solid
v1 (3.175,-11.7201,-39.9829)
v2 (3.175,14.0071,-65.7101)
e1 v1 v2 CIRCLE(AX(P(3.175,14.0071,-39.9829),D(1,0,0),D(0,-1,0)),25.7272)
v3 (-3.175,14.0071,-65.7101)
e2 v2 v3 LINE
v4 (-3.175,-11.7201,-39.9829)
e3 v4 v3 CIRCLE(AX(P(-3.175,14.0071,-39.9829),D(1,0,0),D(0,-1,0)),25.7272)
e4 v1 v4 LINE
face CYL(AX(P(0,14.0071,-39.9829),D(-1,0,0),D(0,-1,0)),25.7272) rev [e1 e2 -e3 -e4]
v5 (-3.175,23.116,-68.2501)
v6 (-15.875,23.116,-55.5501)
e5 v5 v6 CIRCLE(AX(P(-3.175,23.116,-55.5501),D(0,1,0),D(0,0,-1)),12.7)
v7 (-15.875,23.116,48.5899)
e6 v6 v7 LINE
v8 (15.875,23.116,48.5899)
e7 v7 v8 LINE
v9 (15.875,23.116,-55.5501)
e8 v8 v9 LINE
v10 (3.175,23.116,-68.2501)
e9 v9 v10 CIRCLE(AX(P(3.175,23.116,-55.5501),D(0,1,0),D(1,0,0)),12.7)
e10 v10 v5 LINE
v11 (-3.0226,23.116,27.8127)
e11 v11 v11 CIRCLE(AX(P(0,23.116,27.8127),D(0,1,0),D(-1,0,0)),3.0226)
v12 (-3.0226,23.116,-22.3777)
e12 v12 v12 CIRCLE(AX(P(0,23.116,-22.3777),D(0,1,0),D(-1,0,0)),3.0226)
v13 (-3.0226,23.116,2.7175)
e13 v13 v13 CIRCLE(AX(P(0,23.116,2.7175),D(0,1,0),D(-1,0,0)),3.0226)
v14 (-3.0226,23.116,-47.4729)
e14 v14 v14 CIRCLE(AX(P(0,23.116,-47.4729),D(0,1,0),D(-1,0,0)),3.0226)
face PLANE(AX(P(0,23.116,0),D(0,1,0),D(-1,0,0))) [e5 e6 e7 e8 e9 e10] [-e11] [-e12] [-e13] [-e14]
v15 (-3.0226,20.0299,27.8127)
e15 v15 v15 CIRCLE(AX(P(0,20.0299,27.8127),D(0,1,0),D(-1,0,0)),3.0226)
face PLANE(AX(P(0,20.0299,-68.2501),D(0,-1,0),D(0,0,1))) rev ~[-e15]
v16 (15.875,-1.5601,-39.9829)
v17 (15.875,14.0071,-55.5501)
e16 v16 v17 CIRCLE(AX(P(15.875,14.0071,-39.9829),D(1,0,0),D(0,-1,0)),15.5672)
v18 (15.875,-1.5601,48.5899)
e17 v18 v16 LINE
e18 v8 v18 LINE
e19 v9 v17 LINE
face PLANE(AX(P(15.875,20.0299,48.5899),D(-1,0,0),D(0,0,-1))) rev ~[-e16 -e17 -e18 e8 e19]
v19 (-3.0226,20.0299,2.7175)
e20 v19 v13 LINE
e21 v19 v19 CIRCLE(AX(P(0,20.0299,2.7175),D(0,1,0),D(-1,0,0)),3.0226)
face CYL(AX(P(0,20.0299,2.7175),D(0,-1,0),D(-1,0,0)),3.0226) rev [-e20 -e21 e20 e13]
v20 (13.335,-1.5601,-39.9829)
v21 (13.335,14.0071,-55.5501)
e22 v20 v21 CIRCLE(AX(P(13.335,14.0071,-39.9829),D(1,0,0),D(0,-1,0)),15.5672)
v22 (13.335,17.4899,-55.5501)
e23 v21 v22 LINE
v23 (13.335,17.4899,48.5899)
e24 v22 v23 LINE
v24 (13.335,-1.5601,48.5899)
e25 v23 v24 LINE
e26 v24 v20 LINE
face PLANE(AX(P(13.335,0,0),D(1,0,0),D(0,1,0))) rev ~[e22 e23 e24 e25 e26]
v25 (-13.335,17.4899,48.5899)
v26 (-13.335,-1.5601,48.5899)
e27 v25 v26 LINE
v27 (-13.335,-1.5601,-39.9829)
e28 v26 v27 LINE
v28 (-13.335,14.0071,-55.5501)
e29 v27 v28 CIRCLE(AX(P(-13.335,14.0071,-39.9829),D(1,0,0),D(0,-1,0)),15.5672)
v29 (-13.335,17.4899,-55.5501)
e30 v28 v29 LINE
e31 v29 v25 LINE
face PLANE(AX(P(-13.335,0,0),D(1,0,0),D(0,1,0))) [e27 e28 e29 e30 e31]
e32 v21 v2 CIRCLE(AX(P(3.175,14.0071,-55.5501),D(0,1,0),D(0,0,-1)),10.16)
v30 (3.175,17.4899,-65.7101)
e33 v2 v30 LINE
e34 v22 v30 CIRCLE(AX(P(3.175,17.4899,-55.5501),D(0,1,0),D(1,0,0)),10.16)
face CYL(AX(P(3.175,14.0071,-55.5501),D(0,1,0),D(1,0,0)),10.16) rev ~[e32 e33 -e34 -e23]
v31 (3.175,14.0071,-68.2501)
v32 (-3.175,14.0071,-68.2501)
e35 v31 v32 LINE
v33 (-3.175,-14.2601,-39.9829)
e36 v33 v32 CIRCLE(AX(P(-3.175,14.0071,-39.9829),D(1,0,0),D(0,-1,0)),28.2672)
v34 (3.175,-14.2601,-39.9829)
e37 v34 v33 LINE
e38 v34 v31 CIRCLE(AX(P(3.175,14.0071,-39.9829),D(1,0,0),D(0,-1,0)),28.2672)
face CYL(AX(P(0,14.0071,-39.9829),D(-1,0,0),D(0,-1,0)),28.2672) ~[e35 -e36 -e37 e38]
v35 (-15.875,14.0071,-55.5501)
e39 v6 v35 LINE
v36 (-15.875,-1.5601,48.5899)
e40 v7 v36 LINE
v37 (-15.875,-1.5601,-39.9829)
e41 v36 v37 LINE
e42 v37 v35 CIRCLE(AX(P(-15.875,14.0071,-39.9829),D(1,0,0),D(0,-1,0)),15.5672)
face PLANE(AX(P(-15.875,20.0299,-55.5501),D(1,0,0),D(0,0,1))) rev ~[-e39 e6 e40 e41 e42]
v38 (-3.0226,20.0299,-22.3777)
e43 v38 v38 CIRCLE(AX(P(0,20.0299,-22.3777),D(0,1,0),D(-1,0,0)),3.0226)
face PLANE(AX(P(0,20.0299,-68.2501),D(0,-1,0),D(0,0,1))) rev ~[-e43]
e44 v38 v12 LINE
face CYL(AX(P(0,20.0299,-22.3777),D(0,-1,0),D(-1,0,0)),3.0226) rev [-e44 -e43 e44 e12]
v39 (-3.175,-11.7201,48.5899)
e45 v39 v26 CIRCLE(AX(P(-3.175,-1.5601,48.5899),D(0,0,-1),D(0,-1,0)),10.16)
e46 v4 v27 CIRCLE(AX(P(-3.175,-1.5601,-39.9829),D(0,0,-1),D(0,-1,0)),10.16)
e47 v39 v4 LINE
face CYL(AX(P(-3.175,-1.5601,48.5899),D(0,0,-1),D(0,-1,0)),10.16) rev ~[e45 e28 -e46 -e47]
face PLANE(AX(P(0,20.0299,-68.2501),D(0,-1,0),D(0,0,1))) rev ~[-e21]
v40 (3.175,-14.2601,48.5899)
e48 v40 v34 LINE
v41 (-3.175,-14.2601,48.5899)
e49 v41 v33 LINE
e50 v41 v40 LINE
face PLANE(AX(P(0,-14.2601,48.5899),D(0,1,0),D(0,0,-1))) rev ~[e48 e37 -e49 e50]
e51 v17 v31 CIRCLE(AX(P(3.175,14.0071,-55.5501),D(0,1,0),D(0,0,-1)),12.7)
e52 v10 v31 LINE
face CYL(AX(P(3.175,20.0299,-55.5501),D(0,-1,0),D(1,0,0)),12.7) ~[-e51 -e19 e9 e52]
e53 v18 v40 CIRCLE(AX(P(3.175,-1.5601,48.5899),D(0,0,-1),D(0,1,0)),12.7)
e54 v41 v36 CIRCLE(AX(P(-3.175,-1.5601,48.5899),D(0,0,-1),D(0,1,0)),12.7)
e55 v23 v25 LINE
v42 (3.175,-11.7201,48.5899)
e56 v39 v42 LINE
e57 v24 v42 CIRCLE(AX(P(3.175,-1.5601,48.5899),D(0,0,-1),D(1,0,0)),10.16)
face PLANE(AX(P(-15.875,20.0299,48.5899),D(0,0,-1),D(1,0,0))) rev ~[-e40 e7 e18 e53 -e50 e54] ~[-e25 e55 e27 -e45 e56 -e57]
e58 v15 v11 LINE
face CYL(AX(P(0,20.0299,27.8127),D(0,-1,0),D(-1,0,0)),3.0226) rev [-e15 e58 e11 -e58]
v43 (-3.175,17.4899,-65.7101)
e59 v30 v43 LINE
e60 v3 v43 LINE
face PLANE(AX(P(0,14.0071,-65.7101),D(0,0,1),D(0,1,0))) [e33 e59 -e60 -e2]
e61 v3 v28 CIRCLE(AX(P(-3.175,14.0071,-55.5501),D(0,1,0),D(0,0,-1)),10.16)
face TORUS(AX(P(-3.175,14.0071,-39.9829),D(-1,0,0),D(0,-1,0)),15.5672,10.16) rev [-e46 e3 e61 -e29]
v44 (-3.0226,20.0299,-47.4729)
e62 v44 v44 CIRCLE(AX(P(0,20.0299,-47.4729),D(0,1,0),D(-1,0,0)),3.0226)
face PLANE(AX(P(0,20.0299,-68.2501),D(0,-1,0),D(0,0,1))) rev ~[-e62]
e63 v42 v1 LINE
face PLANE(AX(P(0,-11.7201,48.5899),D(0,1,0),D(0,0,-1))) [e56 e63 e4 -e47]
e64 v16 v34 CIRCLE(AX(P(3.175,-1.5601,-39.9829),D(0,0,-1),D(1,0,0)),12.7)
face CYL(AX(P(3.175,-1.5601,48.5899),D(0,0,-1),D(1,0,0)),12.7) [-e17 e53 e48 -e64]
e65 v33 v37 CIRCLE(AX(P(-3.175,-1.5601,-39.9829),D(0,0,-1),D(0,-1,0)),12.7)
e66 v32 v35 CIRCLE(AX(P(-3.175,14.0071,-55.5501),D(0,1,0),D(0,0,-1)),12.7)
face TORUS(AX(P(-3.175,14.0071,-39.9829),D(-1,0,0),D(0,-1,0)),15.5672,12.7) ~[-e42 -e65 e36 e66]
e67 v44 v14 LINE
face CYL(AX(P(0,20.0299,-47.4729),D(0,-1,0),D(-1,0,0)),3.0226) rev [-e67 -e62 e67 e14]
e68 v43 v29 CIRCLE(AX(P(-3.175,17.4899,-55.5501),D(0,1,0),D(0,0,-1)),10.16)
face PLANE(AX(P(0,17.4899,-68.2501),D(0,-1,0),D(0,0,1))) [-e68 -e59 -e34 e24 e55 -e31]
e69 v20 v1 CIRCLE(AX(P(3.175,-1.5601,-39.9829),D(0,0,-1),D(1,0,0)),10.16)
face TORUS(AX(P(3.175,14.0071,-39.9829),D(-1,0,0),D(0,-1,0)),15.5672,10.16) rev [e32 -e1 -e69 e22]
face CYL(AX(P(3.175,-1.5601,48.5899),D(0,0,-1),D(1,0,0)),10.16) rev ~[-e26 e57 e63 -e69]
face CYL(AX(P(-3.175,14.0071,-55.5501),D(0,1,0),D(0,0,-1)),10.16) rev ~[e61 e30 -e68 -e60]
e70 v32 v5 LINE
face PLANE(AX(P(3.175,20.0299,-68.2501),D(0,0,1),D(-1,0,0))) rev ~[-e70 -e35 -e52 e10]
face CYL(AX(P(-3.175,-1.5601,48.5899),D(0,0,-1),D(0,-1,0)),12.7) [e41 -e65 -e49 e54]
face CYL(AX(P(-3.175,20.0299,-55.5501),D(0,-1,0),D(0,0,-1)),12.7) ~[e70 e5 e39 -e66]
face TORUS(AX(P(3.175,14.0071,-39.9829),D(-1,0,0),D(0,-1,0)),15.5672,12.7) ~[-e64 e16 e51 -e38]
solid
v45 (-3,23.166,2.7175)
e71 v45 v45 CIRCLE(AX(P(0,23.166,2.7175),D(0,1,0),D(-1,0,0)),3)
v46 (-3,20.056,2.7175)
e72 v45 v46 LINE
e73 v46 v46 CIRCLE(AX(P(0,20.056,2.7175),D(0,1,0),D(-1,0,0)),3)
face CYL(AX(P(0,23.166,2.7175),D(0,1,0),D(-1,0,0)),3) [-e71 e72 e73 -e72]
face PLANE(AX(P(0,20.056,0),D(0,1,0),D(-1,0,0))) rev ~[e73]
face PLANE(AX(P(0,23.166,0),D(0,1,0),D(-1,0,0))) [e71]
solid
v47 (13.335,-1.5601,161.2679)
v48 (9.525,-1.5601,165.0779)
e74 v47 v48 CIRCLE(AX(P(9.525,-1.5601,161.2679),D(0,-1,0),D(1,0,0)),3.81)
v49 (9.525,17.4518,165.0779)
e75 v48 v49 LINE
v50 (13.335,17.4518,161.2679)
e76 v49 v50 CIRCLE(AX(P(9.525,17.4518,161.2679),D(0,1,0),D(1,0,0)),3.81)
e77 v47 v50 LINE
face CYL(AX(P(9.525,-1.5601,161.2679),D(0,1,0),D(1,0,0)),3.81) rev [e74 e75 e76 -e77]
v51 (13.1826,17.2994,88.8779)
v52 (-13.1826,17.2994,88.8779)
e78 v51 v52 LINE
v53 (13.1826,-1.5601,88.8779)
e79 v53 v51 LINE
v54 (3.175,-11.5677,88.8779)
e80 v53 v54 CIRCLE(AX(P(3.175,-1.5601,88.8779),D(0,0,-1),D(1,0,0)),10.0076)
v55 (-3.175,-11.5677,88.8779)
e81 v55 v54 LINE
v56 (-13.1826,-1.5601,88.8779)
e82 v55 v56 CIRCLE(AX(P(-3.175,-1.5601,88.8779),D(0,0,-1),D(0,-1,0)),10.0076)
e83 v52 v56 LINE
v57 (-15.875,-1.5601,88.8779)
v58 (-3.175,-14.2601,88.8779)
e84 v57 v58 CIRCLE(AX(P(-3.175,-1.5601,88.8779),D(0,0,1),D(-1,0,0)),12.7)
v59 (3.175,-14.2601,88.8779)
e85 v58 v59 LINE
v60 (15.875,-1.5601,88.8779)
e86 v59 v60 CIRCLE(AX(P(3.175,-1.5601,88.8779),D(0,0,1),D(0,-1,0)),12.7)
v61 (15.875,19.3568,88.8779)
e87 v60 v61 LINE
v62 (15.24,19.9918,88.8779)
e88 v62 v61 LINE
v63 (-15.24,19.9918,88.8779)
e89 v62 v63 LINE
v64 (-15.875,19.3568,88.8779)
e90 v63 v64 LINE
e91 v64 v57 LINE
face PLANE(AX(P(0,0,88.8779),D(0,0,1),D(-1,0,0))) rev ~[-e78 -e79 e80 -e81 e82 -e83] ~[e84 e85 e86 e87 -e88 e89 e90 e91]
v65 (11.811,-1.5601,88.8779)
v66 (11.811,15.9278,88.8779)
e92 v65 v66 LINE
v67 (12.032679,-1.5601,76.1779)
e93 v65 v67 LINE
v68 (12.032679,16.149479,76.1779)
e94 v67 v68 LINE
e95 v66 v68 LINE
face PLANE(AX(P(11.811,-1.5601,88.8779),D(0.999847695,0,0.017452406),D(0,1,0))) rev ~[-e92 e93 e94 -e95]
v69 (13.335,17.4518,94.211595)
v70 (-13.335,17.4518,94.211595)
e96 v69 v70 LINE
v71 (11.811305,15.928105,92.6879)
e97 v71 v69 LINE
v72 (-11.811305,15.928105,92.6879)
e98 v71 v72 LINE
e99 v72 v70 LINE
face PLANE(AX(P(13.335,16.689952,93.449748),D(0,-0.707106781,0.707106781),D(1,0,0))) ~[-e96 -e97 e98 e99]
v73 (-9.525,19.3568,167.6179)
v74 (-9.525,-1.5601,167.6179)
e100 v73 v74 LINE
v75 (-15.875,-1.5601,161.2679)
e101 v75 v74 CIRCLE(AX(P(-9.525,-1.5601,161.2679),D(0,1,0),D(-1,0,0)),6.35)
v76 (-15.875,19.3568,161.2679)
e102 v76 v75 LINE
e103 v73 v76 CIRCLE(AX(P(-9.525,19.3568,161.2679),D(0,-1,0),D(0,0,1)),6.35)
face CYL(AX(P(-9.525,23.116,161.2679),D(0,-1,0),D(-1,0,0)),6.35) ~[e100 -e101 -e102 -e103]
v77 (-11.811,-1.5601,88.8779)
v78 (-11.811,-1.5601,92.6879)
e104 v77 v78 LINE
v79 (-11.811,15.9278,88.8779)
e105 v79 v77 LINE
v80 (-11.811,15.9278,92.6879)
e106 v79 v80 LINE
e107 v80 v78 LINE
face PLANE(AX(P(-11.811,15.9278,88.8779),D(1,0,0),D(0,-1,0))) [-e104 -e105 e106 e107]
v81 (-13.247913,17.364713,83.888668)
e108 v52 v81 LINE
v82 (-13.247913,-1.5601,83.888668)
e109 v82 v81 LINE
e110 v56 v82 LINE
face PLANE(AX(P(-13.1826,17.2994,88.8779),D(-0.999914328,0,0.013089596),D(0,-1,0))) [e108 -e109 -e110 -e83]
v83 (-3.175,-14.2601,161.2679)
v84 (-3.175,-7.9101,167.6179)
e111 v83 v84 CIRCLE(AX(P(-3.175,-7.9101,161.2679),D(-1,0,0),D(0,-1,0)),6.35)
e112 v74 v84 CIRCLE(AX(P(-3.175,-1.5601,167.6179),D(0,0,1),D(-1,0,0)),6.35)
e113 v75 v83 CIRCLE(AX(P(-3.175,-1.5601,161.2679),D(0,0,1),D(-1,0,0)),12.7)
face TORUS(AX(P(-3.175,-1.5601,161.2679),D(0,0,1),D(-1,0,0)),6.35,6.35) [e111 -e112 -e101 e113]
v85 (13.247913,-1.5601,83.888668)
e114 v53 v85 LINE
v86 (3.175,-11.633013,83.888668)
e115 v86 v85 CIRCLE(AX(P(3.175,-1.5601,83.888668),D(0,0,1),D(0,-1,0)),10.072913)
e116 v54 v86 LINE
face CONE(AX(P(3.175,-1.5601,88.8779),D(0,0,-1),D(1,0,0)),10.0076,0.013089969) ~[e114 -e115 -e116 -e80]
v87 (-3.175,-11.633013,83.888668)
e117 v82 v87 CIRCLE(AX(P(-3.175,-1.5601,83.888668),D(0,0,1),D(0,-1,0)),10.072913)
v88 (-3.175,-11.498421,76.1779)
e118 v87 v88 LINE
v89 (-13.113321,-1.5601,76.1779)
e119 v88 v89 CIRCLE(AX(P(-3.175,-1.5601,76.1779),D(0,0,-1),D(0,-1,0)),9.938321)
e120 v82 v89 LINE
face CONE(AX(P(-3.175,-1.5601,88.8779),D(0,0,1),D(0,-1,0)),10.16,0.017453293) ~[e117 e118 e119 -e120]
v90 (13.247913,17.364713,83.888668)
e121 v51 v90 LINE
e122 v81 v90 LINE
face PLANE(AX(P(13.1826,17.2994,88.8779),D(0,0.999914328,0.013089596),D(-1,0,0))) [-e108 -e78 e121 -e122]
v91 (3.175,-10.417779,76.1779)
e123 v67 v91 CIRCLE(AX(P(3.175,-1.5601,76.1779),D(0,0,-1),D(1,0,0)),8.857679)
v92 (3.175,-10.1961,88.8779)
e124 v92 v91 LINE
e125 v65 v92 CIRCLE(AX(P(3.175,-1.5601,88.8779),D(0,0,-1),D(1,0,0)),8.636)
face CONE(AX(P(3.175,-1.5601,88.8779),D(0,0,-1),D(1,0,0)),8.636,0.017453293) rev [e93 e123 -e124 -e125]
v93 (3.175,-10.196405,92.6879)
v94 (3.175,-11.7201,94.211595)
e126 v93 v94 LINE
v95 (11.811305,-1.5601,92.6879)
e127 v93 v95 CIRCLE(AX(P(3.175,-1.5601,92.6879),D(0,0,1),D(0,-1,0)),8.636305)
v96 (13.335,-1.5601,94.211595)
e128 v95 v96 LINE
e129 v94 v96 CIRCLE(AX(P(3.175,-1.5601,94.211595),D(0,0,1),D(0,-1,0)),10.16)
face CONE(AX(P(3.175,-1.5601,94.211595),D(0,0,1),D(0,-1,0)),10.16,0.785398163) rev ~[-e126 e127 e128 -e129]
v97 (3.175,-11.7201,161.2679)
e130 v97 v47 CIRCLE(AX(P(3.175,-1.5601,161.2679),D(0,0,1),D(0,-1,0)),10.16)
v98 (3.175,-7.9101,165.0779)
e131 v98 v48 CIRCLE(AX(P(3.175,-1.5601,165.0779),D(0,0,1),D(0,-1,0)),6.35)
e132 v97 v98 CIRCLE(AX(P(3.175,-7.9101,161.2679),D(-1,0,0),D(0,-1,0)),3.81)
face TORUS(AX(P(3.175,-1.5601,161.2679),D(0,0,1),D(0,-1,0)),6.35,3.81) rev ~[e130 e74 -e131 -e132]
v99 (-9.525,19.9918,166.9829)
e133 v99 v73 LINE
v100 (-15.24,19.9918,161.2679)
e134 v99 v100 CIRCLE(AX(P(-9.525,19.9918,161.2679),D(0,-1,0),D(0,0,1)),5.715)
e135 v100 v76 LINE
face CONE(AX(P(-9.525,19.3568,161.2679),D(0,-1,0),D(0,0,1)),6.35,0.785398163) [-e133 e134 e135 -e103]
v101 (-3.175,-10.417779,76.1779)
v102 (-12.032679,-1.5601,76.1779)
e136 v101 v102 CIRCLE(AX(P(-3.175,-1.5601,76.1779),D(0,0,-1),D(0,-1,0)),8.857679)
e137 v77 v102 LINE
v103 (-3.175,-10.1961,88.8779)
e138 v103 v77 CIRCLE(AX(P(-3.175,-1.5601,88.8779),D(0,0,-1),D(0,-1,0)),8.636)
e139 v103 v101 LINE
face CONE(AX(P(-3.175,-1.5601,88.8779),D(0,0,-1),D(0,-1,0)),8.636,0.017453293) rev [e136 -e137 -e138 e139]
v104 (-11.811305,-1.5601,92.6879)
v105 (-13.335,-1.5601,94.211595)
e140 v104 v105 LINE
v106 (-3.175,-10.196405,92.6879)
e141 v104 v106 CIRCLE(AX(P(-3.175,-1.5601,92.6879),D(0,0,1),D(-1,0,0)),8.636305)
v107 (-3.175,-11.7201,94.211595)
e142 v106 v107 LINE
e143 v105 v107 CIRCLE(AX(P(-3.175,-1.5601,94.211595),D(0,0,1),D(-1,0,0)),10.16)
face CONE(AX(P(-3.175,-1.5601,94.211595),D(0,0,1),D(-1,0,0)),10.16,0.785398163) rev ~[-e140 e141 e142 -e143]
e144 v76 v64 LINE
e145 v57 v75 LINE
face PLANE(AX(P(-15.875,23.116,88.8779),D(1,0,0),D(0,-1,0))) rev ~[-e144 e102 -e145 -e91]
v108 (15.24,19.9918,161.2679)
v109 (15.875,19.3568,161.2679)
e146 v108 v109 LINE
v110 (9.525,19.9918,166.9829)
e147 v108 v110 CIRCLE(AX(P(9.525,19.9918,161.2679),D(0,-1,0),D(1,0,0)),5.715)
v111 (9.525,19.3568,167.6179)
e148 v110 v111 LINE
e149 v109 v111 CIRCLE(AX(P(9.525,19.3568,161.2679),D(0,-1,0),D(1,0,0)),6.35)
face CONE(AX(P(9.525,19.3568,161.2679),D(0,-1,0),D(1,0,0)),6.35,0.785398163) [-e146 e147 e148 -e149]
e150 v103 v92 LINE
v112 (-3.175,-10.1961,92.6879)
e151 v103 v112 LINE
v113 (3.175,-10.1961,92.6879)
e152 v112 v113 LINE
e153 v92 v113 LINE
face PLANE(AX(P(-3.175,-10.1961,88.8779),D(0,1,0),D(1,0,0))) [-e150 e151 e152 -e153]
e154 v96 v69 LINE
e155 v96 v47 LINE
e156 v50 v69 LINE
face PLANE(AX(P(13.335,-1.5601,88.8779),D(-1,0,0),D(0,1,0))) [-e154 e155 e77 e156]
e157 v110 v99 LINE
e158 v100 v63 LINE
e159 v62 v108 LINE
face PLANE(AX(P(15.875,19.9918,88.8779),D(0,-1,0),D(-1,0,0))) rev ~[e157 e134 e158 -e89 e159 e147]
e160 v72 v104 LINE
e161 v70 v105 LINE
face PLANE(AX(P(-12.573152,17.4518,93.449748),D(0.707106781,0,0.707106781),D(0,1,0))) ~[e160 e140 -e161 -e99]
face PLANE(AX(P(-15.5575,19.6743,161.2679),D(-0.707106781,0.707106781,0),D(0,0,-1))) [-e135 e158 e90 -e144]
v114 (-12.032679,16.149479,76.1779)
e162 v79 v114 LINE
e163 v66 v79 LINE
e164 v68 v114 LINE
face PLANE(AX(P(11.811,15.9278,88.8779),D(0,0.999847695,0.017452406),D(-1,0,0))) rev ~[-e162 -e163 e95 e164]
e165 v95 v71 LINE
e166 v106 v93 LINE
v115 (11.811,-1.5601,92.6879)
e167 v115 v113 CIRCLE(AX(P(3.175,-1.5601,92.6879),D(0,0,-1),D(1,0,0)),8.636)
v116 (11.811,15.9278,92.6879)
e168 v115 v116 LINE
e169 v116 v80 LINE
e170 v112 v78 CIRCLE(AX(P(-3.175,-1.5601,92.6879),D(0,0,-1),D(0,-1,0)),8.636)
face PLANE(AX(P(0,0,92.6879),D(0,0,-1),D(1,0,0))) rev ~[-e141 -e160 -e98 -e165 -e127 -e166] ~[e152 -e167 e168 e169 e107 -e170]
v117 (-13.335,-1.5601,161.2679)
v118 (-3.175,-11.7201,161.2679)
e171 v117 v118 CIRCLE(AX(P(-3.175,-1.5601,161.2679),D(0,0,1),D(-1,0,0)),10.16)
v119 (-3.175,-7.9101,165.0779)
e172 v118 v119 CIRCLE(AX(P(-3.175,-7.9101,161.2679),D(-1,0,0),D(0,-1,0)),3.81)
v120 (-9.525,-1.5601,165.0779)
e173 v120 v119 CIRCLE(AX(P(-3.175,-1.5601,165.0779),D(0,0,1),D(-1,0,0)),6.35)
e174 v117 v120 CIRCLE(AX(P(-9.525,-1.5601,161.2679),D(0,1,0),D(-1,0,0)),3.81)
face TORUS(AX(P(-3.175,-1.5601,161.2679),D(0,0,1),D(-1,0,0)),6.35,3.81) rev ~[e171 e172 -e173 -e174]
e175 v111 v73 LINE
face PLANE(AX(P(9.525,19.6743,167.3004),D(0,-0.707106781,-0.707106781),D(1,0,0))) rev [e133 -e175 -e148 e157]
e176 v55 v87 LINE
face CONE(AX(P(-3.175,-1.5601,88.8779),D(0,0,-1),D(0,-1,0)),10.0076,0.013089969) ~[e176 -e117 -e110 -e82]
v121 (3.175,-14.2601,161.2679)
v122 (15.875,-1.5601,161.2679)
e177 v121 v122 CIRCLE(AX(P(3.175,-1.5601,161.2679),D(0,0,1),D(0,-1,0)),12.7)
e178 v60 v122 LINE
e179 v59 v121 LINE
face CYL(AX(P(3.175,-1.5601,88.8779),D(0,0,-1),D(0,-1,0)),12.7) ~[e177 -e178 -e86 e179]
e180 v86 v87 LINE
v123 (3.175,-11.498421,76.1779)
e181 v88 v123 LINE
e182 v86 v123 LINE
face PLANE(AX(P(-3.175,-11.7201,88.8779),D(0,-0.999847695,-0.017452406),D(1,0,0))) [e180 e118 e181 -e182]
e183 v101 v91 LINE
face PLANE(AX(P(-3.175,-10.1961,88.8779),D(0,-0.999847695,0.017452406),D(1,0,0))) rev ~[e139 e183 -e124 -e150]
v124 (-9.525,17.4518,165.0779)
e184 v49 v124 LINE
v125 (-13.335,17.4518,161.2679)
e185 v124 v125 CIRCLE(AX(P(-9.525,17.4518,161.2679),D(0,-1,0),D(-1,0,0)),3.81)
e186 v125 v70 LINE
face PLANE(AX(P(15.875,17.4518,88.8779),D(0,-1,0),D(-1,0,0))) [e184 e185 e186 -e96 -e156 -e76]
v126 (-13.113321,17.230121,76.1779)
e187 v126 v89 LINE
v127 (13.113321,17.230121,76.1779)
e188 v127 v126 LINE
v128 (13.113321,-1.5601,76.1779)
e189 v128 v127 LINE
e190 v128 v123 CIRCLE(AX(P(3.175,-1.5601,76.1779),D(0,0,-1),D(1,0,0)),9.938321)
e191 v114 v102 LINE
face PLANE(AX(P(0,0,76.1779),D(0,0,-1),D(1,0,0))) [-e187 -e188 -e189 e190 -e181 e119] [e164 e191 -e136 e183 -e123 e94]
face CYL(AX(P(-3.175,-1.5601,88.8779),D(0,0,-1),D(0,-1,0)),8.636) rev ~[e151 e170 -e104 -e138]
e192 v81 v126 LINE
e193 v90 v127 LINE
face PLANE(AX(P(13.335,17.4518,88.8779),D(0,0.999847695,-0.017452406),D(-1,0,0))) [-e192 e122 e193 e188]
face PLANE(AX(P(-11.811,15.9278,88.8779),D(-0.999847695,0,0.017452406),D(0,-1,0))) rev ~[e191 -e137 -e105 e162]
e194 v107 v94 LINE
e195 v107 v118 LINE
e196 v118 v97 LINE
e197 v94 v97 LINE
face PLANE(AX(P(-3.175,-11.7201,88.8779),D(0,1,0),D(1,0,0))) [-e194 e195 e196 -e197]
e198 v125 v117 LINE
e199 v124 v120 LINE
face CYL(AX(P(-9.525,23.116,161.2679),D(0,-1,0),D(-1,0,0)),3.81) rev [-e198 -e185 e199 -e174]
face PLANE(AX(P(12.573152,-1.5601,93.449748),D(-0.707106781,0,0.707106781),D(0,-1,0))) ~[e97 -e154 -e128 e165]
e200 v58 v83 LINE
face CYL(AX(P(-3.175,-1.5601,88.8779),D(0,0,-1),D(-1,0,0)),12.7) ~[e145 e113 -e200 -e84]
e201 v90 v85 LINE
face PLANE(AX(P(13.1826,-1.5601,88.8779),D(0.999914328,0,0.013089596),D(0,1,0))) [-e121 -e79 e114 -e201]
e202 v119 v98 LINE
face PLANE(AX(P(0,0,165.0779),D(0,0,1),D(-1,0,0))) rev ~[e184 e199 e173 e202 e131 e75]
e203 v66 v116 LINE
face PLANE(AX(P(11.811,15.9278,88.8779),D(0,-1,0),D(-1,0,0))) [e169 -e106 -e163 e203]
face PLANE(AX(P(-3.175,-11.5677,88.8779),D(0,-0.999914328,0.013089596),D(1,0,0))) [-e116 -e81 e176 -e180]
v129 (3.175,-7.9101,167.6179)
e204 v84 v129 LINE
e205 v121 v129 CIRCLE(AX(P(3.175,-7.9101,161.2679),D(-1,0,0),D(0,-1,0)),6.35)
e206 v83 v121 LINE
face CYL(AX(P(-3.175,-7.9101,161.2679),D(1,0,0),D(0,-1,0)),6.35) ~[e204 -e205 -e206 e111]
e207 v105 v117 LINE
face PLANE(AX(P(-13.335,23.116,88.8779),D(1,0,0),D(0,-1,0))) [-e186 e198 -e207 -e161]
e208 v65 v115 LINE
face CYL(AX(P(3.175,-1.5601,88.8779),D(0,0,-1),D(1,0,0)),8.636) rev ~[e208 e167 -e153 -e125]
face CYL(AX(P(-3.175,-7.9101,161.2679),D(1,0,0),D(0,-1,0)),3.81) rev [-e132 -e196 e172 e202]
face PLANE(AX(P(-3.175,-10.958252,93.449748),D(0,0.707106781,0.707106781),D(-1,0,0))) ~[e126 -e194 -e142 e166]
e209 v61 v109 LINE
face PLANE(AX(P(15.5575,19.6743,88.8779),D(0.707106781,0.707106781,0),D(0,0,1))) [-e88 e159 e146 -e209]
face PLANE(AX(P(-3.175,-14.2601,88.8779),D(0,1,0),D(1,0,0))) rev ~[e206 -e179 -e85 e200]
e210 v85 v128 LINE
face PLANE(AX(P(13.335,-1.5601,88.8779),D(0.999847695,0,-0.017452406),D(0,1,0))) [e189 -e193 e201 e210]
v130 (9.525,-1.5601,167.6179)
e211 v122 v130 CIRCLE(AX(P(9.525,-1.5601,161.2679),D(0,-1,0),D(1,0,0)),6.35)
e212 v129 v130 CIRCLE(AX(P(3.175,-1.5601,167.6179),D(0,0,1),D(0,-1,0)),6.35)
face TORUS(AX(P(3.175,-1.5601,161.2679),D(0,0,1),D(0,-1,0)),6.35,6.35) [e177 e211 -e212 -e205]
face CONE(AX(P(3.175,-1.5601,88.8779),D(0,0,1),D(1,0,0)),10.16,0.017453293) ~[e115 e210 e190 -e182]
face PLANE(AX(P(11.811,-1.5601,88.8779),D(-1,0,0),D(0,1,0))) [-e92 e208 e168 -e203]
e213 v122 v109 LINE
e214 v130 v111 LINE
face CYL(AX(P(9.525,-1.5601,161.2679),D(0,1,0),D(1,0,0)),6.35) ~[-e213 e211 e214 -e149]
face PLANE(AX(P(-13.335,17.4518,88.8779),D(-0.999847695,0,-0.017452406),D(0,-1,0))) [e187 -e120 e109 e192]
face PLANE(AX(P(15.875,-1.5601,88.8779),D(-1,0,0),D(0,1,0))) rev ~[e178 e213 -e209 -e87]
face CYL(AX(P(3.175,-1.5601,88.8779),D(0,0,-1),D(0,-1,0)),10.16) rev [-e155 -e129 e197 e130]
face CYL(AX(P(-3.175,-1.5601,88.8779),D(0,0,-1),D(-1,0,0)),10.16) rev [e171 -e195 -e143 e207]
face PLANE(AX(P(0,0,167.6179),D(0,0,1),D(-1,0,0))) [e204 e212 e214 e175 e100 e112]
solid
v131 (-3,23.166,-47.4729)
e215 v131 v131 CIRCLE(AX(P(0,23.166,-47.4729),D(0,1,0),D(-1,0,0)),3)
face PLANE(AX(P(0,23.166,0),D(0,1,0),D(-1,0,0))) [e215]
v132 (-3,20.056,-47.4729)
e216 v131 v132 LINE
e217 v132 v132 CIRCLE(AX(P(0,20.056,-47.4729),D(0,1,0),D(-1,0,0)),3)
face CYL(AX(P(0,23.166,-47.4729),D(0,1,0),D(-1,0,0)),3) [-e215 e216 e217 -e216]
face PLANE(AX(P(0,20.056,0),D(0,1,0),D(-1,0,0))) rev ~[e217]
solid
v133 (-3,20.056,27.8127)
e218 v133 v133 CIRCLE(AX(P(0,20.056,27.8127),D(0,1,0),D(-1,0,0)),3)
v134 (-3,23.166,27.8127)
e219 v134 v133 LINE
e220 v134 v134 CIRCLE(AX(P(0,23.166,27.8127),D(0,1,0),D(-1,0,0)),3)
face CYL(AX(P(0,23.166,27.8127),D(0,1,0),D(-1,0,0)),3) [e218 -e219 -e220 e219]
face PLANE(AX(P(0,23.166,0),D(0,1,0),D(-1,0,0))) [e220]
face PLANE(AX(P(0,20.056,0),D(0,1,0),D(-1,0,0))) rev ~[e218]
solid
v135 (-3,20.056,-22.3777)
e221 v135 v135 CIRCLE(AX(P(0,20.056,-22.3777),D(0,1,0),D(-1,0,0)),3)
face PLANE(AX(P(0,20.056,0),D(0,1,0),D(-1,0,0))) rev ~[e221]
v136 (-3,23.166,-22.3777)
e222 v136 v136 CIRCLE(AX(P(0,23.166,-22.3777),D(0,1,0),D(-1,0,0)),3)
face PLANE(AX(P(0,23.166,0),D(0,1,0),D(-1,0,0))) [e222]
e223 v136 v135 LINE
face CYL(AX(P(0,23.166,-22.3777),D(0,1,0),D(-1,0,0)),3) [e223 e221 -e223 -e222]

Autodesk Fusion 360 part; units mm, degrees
sketch "Sketch1" plane through (0, 0, 0) normal (1, 0, 0) x (0, 1, 0)
  line L0 (20.0299, 48.5899) -> (-14.2601, 48.5899)
  line L1 (-14.2601, 48.5899) -> (-14.2601, -39.9829)
  line L2 (14.0071, -68.2501) -> (20.0299, -68.2501)
  line L3 (20.0299, -68.2501) -> (20.0299, 48.5899)
  line L4 (20.0299, 48.5899) -> (-12.8594, -31.1951) construction
  line L5 (-14.2601, 48.5899) -> (20.0299, -68.2501) construction
  arc A0 (-14.2601, -39.9829) -> (14.0071, -68.2501) centre (14.0071, -39.9829) ccw
  dimension "d42" = 116.84
  dimension "d43" = 34.29
extrude "Extrude1" add sketch "Sketch1" along normal mid plane 31.75 makes body 1
fillet "Fillet1" radius 12.7 6 edges at (15.875, -14.2601, 4.3035) (15.875, -5.9808, -59.9708) (15.875, 17.0185, -68.2501) (-15.875, 17.0185, -68.2501) (-15.875, -5.9808, -59.9708) (-15.875, -14.2601, 4.3035) on bodies 1
shell "Shell1" thickness 2.54 removed faces 1 at (5.2917, 5.6366, 48.5899) on bodies 1
sketch "Sketch2" plane through (0, 20.0299, 0) normal (0, 1, 0) x (-1, 0, 0)
  arc A0 (3.175, -68.2501) -> (15.875, -55.5501) centre (3.175, -55.5501) ccw
  line L0 (15.875, -55.5501) -> (15.875, 48.5899)
  line L1 (15.875, 48.5899) -> (-15.875, 48.5899)
  line L2 (-15.875, 48.5899) -> (-15.875, -55.5501)
  arc A1 (-15.875, -55.5501) -> (-3.175, -68.2501) centre (-3.175, -55.5501) ccw
  line L3 (-3.175, -68.2501) -> (3.175, -68.2501)
  circle A2 centre (0, 27.8127) radius 3.0226
  circle A3 centre (0, -47.4729) radius 3.0226
  line L4 (0, 48.5899) -> (0, -68.2501) construction
  circle A4 centre (0, 2.7175) radius 3.0226
  circle A5 centre (0, -22.3777) radius 3.0226
  line L5 (0, -9.8301) -> (-15.875, -9.8301) construction
  line L6 (0, -22.3777) -> (0, 2.7175) construction
  point P0 (0, -9.8301)
  dimension "d11" = 6.0452
  dimension "d58" = 25.0952
  dimension "d60" = 25.0952
  dimension "d61" = 25.0952
extrude "Extrude2" add sketch "Sketch2" along normal blind 3.0861 bodies 1
copy_body "Body->Comp1" bodies 1 removing the originals makes body 2 in component "Tungsten Holder"
sketch "Sketch3" plane through (0, 0, 48.5899) normal (0, 0, 1) x (-1, 0, 0)
  line L0 (13.335, -17.4899) -> (-13.335, -17.4899)
  line L1 (-13.335, -17.4899) -> (-13.335, 1.5601)
  arc A0 (-3.175, 11.7201) -> (-13.335, 1.5601) centre (-3.175, 1.5601) ccw
  line L2 (-3.175, 11.7201) -> (3.175, 11.7201)
  arc A1 (13.335, 1.5601) -> (3.175, 11.7201) centre (3.175, 1.5601) ccw
  line L3 (13.335, 1.5601) -> (13.335, -17.4899)
  arc A2 (15.875, 1.5601) -> (3.175, 14.2601) centre (3.175, 1.5601) ccw
  line L4 (3.175, 14.2601) -> (-3.175, 14.2601)
  arc A3 (-3.175, 14.2601) -> (-15.875, 1.5601) centre (-3.175, 1.5601) ccw
  line L5 (-15.875, 1.5601) -> (-15.875, -23.116)
  line L6 (-15.875, -23.116) -> (15.875, -23.116)
  line L7 (15.875, -23.116) -> (15.875, 1.5601)
extrude "Extrude1'" add sketch "Sketch3" along normal blind 78.74 separate body contours L0 L1 A0 L2 A1 L3 | A2 L4 A3 L5 L6 L7 makes body 3 in component "Holder Cap"
fillet "Fillet1'" radius 6.35 5 edges at (-15.875, 10.778, 127.3299) (-12.1553, -10.5403, 127.3299) (0, -14.2601, 127.3299) (12.1553, -10.5403, 127.3299) (15.875, 10.778, 127.3299) on bodies 3 in component "Holder Cap"
extrude "Extrude2'" cut 1 faces at (5.2917, 23.116, 72.7199) along direction (0, -1, 0) blind 3.1242 on bodies 3 bodies 3 in component "Holder Cap"
sketch "Sketch4" plane through (-27.0606, 39.3147, 48.5899) normal (0, 0, -1) x (1, 0, 0)
  line L0 (11.1856, 19.3229) -> (42.9356, 19.3229)
  line L1 (42.9356, 19.3229) -> (42.9356, 40.8748)
  arc A0 (42.9356, 40.8748) -> (30.2356, 53.5748) centre (30.2356, 40.8748) ccw
  line L2 (30.2356, 53.5748) -> (23.8856, 53.5748)
  arc A1 (23.8856, 53.5748) -> (11.1856, 40.8748) centre (23.8856, 40.8748) ccw
  line L3 (11.1856, 40.8748) -> (11.1856, 19.3229)
  line L4 (13.7256, 21.8629) -> (40.3956, 21.8629)
  line L5 (40.3956, 21.8629) -> (40.3956, 40.8748)
  arc A2 (40.3956, 40.8748) -> (30.2356, 51.0348) centre (30.2356, 40.8748) ccw
  line L6 (30.2356, 51.0348) -> (23.8856, 51.0348)
  arc A3 (23.8856, 51.0348) -> (13.7256, 40.8748) centre (23.8856, 40.8748) ccw
  line L7 (13.7256, 40.8748) -> (13.7256, 21.8629)
  line L8 (14.9956, 23.1329) -> (39.1256, 23.1329)
  line L9 (39.1256, 23.1329) -> (39.1256, 40.8748)
  arc A4 (39.1256, 40.8748) -> (30.2356, 49.7648) centre (30.2356, 40.8748) ccw
  line L10 (30.2356, 49.7648) -> (23.8856, 49.7648)
  arc A5 (23.8856, 49.7648) -> (14.9956, 40.8748) centre (23.8856, 40.8748) ccw
  line L11 (14.9956, 40.8748) -> (14.9956, 23.1329)
  dimension "d23" = -2.54
  dimension "d24" = -3.81
shell "Shell1'" thickness 2.54 removed faces 1 at (-5.2917, 12.8079, 48.5899) on bodies 3 in component "Holder Cap"
sketch "Sketch6" plane through (0, 0, 48.5899) normal (0, 0, -1) x (1, 0, 0)
  line L0 (13.335, -17.4518) -> (-13.335, -17.4518)
  line L1 (-13.335, -17.4518) -> (-13.335, 1.5601)
  arc A0 (-3.175, 11.7201) -> (-13.335, 1.5601) centre (-3.175, 1.5601) ccw
  line L2 (-3.175, 11.7201) -> (3.175, 11.7201)
  arc A1 (13.335, 1.5601) -> (3.175, 11.7201) centre (3.175, 1.5601) ccw
  line L3 (13.335, 1.5601) -> (13.335, -17.4518)
  line L4 (-15.875, -19.9918) -> (15.875, -19.9918)
  line L5 (15.875, -19.9918) -> (15.875, 1.5601)
  arc A2 (15.875, 1.5601) -> (3.175, 14.2601) centre (3.175, 1.5601) ccw
  line L6 (3.175, 14.2601) -> (-3.175, 14.2601)
  arc A3 (-3.175, 14.2601) -> (-15.875, 1.5601) centre (-3.175, 1.5601) ccw
  line L7 (-15.875, 1.5601) -> (-15.875, -19.9918)
  line L8 (-11.811, -15.9278) -> (-11.811, 1.5601)
  arc A4 (-3.175, 10.1961) -> (-11.811, 1.5601) centre (-3.175, 1.5601) ccw
  line L9 (-3.175, 10.1961) -> (3.175, 10.1961)
  arc A5 (11.811, 1.5601) -> (3.175, 10.1961) centre (3.175, 1.5601) ccw
  line L10 (11.811, 1.5601) -> (11.811, -15.9278)
  line L11 (11.811, -15.9278) -> (-11.811, -15.9278)
  dimension "d31" = -1.524
extrude "Extrude4" add sketch "Sketch6" along normal blind 12.7 draft -1 separate body contours L0 L1 A0 L2 A1 L3 makes body 4
extrude "Extrude5" add 1 faces at (3.937, 16.9438, 48.5899) along direction (0, 0, 1) blind 3.81 on bodies 4 bodies 4
sketch "Sketch8" plane through (8.1653, 5.4246, 48.5899) normal (0, 0, -1) x (1, 0, 0)
  line L0 (5.1697, -12.0272) -> (-21.5003, -12.0272)
  line L1 (-21.5003, -12.0272) -> (-21.5003, 6.9847)
  arc A0 (-11.3403, 17.1447) -> (-21.5003, 6.9847) centre (-11.3403, 6.9847) ccw
  line L2 (-11.3403, 17.1447) -> (-4.9903, 17.1447)
  arc A1 (5.1697, 6.9847) -> (-4.9903, 17.1447) centre (-4.9903, 6.9847) ccw
  line L3 (5.1697, 6.9847) -> (5.1697, -12.0272)
  line L4 (-24.0403, -14.5672) -> (7.7097, -14.5672)
  line L5 (7.7097, -14.5672) -> (7.7097, 6.9847)
  arc A2 (7.7097, 6.9847) -> (-4.9903, 19.6847) centre (-4.9903, 6.9847) ccw
  line L6 (-4.9903, 19.6847) -> (-11.3403, 19.6847)
  arc A3 (-11.3403, 19.6847) -> (-24.0403, 6.9847) centre (-11.3403, 6.9847) ccw
  line L7 (-24.0403, 6.9847) -> (-24.0403, -14.5672)
  line L8 (-21.3479, -11.8748) -> (-21.3479, 6.9847)
  arc A4 (-11.3403, 16.9923) -> (-21.3479, 6.9847) centre (-11.3403, 6.9847) ccw
  line L9 (-11.3403, 16.9923) -> (-4.9903, 16.9923)
  arc A5 (5.0173, 6.9847) -> (-4.9903, 16.9923) centre (-4.9903, 6.9847) ccw
  line L10 (5.0173, 6.9847) -> (5.0173, -11.8748)
  line L11 (5.0173, -11.8748) -> (-21.3479, -11.8748)
  dimension "d46" = -0.1524
extrude "Extrude7" cut sketch "Sketch8" along normal blind 11.684 draft -0.75 contours L0 L1 A0 L2 A1 L3 bodies 4
combine "Combine2" operation add target body 3 tool bodies 4 in component "Holder Cap"
chamfer "Chamfer2" distance 1.524 angle 45 6 edges at (13.335, 7.9459, 52.3999) (10.3592, -8.7443, 52.3999) (0, -11.7201, 52.3999) (-10.3592, -8.7443, 52.3999) (-13.335, 7.9459, 52.3999) (0, 17.4518, 52.3999) on bodies 3 in component "Holder Cap"
chamfer "Chamfer3" distance 0.635 angle 45 5 edges at (15.875, 19.9918, 84.7849) (14.0151, 19.9918, 125.47) (0, 19.9918, 127.3299) (-14.0151, 19.9918, 125.47) (-15.875, 19.9918, 84.7849) on bodies 3 in component "Holder Cap"
sketch "Sketch7" plane through (0, 0, 48.5899) normal (0, 0, -1) x (1, 0, 0)
  line L0 (-15.875, -19.3568) -> (-15.24, -19.9918)
  line L1 (-15.24, -19.9918) -> (15.24, -19.9918)
  line L2 (15.24, -19.9918) -> (15.875, -19.3568)
  line L3 (15.875, -19.3568) -> (15.875, 1.5601)
  arc A0 (15.875, 1.5601) -> (3.175, 14.2601) centre (3.175, 1.5601) ccw
  line L4 (3.175, 14.2601) -> (-3.175, 14.2601)
  arc A1 (-3.175, 14.2601) -> (-15.875, 1.5601) centre (-3.175, 1.5601) ccw
  line L5 (-15.875, 1.5601) -> (-15.875, -19.3568)
  arc A2 (13.1826, 1.5601) -> (3.175, 11.5677) centre (3.175, 1.5601) ccw
  line L6 (13.1826, 1.5601) -> (13.1826, -17.2994)
  line L7 (13.1826, -17.2994) -> (-13.1826, -17.2994)
  line L8 (-13.1826, -17.2994) -> (-13.1826, 1.5601)
  arc A3 (-3.175, 11.5677) -> (-13.1826, 1.5601) centre (-3.175, 1.5601) ccw
  line L9 (-3.175, 11.5677) -> (3.175, 11.5677)
sketch "Sketch1 (2)" plane through (0, 23.116, 0) normal (0, 1, 0) x (-1, 0, 0) in component "Round Magnet"
  circle A0 centre (0, 27.8127) radius 3.0226
  circle A1 centre (0, 2.7175) radius 3.0226
  circle A2 centre (0, -47.4729) radius 3.0226
  line L0 (-3.175, -68.2501) -> (3.175, -68.2501)
  arc A3 (3.175, -68.2501) -> (15.875, -55.5501) centre (3.175, -55.5501) ccw
  line L1 (15.875, -55.5501) -> (15.875, 48.5899)
  line L2 (15.875, 48.5899) -> (-15.875, 48.5899)
  line L3 (-15.875, 48.5899) -> (-15.875, -55.5501)
  arc A4 (-15.875, -55.5501) -> (-3.175, -68.2501) centre (-3.175, -55.5501) ccw
  circle A5 centre (0, 2.7175) radius 3
  circle A6 centre (0, 27.8127) radius 3
  circle A7 centre (0, -47.4729) radius 3
  circle A8 centre (0, -22.3777) radius 3.0226
  circle A9 centre (0, -22.3777) radius 3
  dimension "d51" = 6
extrude "Extrude1''" add sketch "Sketch1 (2)" along normal blind -3.06 and the other way blind -0.05 separate body contours A5 | A6 | A7 | A9 makes body 5 at (-2.9963, 21.0927, -47.6225) makes body 6 at (-2.9963, 21.0927, 2.5679) makes body 7 at (-2.9963, 21.0927, 27.6631) makes body 8 at (-2.9963, 21.0927, -22.5273) in component "Component"
component "Holder Cap" placed x (1, 0, 0) y (0, 1, 0) z (0, 0, 1) at (0, 0, 40.288)
component "Tungsten Holder" placed x (1, 0, 0) y (0, 1, 0) z (0, 0, 1) at (0, 0, 0)
component "Magnets" placed x (1, 0, 0) y (0, 1, 0) z (0, 0, 1) at (0, 0, 0)
component "Round Magnet" placed x (1, 0, 0) y (0, 1, 0) z (0, 0, 1) at (0, 0, 0) in component "Magnets"
component "Component" placed x (1, 0, 0) y (0, 1, 0) z (0, 0, 1) at (0, 0, 0) in component "Round Magnet"
equation "height = 4.5 in"
equation "width = 1.25 in"
equation "hole = 1 in"
equation "d6 = width"
equation "d42 = height + 0.1 in"
equation "d43 = width + 0.1 in"
equation "d58 = 0.75 in + 0.238 in"
